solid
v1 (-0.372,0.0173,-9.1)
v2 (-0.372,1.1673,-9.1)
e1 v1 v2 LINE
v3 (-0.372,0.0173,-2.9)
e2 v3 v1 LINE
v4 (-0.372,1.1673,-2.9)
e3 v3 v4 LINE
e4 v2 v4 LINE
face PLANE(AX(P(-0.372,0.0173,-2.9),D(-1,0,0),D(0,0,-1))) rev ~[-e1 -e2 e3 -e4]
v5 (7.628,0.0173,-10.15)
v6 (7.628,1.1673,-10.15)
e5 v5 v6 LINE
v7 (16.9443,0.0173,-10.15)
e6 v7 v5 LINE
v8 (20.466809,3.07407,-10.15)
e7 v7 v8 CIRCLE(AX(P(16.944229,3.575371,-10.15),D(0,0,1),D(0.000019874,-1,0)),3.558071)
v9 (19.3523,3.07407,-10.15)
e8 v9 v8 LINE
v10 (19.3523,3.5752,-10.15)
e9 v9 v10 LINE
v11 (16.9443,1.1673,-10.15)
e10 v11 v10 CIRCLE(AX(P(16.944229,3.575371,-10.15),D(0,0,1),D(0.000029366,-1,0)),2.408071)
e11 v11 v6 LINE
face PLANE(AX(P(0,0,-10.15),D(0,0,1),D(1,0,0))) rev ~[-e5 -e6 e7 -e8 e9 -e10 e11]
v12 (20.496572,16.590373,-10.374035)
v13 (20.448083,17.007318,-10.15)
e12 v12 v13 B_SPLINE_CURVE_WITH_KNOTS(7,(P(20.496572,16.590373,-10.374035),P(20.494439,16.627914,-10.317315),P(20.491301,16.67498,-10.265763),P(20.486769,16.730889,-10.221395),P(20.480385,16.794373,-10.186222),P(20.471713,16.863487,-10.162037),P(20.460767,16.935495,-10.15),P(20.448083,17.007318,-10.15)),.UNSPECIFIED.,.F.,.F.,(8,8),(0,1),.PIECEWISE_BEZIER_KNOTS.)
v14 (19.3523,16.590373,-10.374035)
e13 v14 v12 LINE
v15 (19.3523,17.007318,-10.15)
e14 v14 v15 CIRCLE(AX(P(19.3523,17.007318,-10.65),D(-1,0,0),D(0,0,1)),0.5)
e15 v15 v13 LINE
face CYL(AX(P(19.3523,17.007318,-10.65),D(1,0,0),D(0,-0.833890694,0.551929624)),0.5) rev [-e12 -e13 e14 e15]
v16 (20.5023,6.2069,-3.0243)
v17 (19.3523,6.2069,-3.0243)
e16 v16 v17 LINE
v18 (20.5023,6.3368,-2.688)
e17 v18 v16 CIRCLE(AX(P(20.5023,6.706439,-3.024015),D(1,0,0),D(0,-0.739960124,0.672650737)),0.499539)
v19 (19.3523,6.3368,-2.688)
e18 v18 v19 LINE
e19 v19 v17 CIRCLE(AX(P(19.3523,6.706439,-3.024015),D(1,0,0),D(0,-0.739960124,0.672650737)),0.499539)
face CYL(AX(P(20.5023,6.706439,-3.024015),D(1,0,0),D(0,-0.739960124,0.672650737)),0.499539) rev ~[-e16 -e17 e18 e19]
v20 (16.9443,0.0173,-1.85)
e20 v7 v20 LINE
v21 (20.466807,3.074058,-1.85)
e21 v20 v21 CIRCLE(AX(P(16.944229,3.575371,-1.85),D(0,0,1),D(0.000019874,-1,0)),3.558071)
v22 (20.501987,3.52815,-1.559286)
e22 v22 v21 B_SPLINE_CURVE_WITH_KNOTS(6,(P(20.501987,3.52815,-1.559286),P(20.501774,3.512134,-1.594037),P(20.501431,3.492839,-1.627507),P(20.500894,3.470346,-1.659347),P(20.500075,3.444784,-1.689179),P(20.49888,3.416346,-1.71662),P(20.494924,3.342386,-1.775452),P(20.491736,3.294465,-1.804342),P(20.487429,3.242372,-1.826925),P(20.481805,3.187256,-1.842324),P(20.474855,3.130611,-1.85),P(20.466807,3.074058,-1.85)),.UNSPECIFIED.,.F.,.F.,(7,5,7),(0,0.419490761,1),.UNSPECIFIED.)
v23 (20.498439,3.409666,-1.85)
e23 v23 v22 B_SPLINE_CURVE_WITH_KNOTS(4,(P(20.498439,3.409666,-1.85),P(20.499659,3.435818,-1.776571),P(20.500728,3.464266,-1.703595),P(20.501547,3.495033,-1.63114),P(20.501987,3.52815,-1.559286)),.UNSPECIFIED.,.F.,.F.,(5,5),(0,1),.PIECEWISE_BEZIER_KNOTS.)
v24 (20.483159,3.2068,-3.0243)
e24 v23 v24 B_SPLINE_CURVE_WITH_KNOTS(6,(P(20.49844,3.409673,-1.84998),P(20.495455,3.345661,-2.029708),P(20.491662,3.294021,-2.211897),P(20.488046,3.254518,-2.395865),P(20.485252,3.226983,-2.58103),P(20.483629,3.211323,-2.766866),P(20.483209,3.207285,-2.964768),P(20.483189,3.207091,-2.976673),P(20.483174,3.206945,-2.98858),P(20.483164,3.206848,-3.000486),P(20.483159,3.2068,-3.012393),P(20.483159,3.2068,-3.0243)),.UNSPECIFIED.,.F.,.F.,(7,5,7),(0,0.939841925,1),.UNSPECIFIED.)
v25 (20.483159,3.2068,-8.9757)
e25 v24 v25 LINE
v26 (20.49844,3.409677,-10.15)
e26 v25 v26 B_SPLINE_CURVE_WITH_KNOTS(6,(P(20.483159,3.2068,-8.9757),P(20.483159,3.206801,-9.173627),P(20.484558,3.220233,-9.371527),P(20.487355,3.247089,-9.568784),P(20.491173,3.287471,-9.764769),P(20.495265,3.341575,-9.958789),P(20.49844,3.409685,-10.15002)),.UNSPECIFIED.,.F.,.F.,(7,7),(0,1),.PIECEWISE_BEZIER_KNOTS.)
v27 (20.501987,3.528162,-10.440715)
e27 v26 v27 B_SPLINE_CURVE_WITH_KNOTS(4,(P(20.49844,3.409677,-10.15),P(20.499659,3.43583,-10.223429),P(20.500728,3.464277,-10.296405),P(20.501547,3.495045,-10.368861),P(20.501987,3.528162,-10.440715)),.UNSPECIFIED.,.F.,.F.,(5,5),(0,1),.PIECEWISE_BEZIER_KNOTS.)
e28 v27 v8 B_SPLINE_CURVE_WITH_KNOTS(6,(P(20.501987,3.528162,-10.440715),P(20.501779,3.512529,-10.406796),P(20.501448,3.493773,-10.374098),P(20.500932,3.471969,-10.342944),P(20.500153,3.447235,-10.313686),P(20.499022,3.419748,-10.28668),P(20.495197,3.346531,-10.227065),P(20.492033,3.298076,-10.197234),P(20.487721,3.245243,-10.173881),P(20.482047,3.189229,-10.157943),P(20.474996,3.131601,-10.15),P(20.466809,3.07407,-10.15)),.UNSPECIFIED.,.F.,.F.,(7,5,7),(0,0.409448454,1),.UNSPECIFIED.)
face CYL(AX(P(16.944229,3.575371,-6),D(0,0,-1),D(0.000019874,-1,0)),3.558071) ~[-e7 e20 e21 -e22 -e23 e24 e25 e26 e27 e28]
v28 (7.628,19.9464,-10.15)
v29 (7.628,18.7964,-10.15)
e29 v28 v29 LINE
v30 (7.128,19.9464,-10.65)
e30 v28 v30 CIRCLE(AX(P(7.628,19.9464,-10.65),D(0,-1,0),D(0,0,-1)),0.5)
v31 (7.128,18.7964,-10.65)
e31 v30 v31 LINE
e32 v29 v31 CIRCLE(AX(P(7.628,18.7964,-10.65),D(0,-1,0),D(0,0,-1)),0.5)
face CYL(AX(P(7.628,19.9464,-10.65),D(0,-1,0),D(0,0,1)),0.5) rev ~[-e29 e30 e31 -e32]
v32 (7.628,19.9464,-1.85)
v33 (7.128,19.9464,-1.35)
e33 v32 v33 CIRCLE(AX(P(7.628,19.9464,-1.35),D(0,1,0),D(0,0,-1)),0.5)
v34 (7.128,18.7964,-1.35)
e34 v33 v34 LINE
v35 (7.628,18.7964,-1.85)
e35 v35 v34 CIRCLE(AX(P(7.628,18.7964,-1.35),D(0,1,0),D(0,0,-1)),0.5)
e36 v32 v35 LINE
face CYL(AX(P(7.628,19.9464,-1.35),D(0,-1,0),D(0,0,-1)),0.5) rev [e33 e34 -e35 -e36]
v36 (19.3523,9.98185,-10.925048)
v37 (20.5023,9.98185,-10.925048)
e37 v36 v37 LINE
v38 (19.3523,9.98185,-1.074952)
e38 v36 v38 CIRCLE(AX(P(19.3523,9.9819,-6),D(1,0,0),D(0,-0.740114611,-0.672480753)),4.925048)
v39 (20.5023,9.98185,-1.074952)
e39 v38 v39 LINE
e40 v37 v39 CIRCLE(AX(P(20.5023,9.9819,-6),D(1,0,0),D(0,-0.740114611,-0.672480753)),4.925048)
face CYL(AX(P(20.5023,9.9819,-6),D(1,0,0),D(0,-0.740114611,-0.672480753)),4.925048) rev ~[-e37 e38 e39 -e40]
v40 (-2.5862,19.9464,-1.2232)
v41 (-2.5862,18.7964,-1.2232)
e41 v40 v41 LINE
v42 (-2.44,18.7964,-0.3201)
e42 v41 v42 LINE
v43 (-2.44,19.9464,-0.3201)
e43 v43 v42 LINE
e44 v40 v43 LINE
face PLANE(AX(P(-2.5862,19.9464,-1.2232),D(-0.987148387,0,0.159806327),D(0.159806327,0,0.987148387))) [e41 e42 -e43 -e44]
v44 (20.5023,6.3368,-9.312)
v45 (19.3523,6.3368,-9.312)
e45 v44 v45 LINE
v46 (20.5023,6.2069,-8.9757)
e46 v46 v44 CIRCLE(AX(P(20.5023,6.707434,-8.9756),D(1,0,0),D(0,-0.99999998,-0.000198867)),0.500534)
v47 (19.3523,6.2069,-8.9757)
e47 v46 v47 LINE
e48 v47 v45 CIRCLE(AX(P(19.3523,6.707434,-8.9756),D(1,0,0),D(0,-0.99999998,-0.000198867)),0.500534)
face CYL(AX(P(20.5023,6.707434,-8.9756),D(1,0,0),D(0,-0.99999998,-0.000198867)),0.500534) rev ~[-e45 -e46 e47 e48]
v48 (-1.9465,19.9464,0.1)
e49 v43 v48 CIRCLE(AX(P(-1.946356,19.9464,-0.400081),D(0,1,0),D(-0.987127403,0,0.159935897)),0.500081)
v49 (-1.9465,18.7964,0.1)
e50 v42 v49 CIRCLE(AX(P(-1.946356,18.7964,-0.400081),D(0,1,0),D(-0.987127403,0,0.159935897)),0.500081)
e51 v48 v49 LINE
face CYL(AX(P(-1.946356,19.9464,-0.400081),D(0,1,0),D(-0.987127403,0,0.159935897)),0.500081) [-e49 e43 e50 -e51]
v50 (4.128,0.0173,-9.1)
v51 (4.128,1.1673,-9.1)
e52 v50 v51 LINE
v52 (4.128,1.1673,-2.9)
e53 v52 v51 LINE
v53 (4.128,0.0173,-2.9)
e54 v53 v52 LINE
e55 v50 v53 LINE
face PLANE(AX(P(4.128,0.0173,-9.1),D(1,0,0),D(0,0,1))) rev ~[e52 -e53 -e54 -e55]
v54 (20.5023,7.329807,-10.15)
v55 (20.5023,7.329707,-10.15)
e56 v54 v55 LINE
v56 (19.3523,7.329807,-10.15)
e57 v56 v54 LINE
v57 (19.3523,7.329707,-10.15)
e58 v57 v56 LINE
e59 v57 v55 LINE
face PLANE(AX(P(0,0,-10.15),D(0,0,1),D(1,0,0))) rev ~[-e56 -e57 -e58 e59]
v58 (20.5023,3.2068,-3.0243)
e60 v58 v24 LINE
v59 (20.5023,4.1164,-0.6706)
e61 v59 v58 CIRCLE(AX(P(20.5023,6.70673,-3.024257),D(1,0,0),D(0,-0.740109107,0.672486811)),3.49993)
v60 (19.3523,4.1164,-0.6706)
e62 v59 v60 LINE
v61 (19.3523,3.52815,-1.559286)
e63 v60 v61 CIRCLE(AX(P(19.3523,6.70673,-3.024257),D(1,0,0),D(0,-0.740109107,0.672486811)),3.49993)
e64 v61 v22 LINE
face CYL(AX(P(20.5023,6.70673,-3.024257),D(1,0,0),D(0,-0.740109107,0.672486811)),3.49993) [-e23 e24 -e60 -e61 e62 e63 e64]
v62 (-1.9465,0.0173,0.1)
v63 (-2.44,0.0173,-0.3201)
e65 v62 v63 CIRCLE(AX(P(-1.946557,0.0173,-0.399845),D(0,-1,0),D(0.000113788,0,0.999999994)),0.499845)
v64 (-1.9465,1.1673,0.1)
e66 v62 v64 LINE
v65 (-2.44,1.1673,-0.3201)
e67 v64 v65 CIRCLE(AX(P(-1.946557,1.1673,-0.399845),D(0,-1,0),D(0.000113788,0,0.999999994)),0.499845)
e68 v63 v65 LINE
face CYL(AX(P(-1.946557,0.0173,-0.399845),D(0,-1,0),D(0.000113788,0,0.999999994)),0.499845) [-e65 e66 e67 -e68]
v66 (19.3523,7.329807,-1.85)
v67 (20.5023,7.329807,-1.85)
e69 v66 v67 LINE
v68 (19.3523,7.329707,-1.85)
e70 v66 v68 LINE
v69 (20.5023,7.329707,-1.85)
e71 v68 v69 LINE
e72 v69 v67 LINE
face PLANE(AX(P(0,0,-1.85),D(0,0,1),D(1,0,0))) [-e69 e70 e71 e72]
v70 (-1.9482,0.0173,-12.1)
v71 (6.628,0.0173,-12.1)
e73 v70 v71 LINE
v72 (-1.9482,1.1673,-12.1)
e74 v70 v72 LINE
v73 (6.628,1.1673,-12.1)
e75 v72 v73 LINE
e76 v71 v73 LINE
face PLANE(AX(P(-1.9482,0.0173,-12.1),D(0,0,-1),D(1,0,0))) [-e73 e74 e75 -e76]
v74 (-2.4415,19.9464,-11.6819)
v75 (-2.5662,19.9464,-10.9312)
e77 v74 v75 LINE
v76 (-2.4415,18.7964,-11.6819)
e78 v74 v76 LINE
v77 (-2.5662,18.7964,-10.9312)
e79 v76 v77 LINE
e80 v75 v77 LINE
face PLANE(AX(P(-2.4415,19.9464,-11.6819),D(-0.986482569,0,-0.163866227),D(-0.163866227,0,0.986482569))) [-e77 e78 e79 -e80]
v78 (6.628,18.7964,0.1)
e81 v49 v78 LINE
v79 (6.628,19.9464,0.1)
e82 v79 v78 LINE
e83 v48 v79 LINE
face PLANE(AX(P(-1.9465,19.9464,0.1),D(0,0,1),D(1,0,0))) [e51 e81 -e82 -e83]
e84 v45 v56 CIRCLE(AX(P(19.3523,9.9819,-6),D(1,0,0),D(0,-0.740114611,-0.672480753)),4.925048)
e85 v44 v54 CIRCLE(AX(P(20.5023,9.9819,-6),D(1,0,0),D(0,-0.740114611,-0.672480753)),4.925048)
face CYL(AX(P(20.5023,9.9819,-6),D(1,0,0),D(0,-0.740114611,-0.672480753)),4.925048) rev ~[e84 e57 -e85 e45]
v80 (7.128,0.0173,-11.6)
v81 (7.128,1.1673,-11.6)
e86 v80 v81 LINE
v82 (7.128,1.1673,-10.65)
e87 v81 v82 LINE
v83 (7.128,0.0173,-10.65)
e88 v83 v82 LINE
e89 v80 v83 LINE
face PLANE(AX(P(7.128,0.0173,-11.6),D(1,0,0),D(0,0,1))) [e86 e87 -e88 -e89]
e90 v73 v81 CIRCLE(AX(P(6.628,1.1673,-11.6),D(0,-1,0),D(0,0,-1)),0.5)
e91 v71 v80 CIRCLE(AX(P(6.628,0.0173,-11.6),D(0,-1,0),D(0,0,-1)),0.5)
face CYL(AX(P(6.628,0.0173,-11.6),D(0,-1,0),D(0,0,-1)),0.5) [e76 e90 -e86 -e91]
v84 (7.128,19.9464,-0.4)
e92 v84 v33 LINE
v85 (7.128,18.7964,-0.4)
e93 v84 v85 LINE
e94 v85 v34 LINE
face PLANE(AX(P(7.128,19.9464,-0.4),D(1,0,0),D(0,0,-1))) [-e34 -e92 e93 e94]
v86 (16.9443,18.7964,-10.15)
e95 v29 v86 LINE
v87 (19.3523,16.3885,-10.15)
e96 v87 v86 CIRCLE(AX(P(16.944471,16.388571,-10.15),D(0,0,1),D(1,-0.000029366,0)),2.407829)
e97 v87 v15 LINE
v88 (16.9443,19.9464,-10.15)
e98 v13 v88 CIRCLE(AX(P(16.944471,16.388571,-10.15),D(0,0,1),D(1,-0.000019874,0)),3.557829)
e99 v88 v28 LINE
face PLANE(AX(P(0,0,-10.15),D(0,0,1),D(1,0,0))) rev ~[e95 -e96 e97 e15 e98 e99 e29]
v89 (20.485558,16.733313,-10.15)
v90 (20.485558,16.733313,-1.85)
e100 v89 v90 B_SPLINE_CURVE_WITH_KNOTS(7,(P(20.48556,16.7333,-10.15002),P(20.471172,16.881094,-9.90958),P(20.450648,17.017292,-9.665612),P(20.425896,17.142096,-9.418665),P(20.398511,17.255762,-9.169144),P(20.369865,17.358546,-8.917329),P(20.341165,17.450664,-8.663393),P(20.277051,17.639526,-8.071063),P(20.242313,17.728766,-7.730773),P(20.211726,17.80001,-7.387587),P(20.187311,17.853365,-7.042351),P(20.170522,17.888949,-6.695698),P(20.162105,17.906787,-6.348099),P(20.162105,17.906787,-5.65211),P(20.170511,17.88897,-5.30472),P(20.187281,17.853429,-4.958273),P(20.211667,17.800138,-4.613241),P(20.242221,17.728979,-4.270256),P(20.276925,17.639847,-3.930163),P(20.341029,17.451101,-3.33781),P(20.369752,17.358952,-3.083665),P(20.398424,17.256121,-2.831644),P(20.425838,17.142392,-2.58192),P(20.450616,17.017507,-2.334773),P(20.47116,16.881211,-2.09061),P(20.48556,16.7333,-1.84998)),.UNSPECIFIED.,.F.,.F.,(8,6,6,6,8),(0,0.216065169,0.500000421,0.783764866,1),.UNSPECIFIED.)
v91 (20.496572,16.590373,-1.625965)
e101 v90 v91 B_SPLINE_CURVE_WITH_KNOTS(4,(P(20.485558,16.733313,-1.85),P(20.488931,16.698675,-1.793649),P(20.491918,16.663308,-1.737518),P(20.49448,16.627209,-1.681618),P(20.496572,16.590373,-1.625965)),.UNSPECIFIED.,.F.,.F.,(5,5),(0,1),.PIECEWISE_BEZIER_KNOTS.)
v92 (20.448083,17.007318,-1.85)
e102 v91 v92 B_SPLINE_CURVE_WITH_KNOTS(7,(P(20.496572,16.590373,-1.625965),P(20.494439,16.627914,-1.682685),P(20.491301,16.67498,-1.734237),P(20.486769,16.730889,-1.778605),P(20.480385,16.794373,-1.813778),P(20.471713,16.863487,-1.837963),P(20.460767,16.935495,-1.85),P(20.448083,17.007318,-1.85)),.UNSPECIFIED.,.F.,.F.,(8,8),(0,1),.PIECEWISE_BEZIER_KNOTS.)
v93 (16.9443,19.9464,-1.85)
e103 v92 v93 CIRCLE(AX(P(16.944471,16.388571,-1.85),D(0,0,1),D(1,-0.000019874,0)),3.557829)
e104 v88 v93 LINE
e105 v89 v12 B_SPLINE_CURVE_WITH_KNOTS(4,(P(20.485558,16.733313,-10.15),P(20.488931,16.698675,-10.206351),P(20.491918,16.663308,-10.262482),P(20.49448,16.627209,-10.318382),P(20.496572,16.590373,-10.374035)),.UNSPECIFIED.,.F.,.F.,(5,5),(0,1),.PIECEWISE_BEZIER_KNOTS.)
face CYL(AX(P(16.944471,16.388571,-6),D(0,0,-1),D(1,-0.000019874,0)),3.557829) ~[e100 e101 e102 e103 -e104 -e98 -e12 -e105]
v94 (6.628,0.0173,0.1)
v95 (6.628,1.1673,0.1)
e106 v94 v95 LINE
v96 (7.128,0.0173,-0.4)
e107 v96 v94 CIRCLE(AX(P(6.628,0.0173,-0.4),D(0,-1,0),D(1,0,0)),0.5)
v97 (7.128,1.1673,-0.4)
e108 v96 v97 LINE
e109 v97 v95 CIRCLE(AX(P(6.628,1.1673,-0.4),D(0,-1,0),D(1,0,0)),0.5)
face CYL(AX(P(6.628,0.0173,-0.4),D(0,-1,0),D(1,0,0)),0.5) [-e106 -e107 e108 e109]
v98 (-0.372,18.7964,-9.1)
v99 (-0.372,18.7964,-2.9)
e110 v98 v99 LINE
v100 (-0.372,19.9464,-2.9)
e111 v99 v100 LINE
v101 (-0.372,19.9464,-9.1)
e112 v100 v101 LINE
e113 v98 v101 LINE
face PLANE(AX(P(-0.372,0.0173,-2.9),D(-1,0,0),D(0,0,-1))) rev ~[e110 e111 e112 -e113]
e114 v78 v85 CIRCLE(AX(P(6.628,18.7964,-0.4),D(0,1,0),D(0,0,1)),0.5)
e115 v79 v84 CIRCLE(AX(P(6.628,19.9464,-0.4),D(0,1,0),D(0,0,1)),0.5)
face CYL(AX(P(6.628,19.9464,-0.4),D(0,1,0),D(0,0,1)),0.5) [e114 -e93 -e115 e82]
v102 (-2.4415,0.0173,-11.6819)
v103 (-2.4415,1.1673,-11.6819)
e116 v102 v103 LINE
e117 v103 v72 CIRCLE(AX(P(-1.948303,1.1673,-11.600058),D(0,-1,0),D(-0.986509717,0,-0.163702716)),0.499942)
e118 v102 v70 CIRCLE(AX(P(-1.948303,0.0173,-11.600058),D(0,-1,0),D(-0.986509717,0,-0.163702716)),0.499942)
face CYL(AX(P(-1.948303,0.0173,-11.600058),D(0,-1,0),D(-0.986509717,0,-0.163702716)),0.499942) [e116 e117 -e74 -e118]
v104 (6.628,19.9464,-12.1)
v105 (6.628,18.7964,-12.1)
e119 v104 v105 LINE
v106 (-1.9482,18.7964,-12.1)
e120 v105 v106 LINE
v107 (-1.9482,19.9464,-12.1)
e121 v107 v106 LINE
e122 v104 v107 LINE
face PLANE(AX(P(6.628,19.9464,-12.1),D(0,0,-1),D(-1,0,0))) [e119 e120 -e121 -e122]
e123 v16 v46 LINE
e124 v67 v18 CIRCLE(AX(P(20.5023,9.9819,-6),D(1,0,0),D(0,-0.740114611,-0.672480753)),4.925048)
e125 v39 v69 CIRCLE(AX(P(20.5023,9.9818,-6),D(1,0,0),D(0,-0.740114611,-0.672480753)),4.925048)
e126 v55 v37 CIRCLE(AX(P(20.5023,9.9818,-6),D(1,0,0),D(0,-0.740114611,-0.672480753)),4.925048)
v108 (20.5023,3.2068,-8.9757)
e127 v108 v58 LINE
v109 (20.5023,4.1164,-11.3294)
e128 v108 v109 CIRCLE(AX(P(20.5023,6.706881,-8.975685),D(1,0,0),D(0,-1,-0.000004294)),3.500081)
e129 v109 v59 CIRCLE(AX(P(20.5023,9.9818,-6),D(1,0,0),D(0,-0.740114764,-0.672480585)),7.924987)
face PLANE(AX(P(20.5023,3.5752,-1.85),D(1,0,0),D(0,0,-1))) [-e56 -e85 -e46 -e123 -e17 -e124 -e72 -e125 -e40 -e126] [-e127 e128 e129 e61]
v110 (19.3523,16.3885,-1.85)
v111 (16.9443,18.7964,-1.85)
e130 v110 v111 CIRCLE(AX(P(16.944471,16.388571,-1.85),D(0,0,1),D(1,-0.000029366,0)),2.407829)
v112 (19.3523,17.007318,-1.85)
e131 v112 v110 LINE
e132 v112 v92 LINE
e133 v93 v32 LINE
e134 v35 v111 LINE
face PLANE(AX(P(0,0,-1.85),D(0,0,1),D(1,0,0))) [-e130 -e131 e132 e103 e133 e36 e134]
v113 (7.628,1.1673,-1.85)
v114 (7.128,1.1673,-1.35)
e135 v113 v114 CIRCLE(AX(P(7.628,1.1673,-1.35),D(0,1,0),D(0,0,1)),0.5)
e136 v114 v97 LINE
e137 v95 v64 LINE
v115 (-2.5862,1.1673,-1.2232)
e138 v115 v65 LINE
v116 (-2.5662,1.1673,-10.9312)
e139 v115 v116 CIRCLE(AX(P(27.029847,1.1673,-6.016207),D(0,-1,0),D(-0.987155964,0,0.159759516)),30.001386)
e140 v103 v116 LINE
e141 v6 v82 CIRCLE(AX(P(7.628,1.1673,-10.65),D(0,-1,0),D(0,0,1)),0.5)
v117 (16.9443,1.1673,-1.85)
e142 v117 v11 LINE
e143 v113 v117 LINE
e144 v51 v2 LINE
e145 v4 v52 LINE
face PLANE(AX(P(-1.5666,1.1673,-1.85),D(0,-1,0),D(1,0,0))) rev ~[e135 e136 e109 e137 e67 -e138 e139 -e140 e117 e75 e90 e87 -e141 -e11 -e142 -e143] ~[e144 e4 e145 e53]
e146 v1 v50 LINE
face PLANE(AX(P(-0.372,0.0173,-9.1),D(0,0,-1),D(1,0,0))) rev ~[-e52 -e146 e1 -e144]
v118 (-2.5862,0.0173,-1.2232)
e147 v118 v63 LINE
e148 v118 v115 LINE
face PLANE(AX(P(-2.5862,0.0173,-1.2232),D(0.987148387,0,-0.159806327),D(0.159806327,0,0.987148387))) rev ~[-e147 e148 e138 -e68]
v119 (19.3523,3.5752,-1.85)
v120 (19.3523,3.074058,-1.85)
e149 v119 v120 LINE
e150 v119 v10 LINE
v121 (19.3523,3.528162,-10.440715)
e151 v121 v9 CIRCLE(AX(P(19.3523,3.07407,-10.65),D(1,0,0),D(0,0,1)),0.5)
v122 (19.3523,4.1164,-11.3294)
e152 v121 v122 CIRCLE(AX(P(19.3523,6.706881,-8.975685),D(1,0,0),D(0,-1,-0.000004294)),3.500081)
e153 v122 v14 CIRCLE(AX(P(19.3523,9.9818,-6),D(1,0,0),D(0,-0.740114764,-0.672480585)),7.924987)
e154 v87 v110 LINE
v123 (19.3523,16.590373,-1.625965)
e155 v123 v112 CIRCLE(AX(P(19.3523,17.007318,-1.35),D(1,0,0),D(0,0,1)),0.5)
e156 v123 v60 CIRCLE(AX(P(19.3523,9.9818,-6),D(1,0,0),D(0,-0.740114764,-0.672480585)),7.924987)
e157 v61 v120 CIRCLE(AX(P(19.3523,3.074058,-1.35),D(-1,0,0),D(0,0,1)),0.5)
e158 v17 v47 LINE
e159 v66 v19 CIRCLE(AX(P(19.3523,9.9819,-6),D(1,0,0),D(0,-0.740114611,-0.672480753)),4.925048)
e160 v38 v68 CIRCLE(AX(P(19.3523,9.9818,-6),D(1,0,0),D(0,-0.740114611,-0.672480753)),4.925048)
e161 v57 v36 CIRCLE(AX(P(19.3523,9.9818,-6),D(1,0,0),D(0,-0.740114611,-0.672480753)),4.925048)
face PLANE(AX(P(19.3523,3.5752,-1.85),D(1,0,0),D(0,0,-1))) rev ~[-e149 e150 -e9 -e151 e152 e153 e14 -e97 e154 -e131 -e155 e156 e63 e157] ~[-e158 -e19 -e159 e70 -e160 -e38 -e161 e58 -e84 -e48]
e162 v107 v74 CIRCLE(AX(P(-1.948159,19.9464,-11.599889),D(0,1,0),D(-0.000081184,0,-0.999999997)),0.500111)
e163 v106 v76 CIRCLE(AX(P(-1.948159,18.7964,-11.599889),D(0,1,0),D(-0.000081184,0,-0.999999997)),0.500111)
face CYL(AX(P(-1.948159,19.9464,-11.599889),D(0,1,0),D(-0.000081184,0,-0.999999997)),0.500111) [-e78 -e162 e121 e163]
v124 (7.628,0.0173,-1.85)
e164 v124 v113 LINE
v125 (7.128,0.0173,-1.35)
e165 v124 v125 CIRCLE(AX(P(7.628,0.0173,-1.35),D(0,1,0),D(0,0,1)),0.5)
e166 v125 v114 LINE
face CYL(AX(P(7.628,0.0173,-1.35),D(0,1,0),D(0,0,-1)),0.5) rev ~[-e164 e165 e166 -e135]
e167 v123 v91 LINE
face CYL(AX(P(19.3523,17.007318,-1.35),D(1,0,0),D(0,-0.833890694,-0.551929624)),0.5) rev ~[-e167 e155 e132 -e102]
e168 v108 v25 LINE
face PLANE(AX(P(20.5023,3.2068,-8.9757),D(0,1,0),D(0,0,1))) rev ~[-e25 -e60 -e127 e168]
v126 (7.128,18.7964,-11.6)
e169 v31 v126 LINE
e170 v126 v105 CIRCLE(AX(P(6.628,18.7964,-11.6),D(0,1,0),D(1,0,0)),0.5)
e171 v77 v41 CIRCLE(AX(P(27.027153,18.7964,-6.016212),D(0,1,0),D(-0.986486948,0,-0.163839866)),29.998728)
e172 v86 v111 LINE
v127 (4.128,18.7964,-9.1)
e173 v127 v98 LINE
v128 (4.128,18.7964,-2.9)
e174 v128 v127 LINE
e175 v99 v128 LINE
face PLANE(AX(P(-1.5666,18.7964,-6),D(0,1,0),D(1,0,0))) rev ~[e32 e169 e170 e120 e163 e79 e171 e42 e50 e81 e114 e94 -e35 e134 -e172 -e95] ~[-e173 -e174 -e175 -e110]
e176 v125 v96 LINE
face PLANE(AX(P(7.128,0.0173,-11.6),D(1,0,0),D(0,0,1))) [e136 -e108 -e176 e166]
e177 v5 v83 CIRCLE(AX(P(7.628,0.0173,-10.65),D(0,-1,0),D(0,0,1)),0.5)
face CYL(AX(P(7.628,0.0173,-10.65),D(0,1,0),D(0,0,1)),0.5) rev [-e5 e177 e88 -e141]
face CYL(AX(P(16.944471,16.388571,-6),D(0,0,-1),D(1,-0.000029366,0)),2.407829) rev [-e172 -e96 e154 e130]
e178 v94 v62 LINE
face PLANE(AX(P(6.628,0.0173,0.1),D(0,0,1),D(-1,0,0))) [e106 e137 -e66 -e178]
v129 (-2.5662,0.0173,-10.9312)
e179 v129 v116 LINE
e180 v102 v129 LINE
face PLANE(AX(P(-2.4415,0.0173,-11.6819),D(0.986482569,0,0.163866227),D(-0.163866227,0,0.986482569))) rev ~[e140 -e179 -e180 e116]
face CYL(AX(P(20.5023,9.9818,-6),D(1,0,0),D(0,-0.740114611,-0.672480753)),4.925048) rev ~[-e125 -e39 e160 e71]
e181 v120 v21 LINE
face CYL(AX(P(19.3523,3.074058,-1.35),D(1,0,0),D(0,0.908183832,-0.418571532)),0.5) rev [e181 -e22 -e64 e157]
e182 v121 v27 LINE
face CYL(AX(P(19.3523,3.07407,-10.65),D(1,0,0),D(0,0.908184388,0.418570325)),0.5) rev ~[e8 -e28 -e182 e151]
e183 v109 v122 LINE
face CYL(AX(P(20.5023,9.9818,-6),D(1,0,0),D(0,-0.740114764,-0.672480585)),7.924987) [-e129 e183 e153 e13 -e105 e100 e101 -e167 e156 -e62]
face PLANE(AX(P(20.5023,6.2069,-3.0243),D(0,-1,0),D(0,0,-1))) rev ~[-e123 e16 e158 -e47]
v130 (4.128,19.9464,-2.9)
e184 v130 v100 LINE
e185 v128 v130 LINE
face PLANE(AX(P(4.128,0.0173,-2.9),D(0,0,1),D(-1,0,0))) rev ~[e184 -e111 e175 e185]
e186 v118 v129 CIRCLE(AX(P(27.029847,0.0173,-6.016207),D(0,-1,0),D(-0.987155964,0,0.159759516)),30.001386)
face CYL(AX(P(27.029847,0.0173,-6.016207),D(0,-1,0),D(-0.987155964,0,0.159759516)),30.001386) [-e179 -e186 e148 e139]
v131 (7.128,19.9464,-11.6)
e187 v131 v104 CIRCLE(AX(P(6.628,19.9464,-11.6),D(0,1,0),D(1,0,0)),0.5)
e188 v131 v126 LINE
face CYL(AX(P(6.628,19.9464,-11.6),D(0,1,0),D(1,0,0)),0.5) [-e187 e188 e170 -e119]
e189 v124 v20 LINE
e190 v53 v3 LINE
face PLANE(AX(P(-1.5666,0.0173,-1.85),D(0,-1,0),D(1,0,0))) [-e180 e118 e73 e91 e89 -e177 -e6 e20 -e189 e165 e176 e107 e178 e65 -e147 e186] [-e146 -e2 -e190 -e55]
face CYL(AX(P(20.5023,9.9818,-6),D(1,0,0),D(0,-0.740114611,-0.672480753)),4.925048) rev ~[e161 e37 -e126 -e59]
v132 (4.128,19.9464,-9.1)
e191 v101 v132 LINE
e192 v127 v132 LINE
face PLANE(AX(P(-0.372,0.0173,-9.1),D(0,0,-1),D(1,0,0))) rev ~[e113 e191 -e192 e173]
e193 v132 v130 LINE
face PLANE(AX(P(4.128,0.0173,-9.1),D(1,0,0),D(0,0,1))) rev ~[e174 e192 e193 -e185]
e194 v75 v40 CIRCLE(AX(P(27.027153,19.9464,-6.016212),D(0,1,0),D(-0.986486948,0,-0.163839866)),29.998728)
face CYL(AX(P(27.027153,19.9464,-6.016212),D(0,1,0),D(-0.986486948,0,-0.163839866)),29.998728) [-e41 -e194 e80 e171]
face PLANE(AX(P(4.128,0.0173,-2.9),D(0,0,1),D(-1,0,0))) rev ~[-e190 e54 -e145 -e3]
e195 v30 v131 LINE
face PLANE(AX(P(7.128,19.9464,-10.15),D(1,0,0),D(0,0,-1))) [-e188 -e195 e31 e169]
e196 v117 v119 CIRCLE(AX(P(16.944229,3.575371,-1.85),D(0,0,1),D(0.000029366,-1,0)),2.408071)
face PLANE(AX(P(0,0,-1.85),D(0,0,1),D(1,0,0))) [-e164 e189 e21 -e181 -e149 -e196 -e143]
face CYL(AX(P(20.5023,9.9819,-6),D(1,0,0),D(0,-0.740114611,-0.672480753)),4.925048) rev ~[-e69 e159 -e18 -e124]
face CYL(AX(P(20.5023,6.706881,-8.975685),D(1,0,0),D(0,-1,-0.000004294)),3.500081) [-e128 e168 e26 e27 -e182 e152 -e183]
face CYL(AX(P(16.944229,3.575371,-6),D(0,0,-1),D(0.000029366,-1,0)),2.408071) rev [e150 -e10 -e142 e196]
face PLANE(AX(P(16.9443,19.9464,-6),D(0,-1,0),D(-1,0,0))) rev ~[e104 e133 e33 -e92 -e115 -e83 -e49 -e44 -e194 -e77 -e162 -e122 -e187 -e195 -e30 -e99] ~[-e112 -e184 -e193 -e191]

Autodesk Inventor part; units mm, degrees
ref_plane "YZ Plane" through (0, 0, 0) normal (1, 0, 0) x (0, 1, 0)
ref_plane "XZ Plane" through (0, 0, 0) normal (0, 1, 0) x (-1, 0, 0)
ref_plane "XY Plane" through (0, 0, 0) normal (0, 0, 1) x (1, 0, 0)
ref_plane "Work Plane1" through (0, 0, -6) normal (0, 0, 1) x (1, 0, 0)
sketch "Sketch2" plane through (0, 0, -6) normal (0, 0, 1) x (1, 0, 0)
  line L0 (-0.1721, 1.3319) -> (-0.1721, -0.6681) projected
  line L1 (-0.1721, -0.6681) -> (-1.1721, -0.6681) projected
  line L2 (-1.1721, -0.6681) -> (-1.1721, -1.1681) projected
  line L3 (-1.1721, -1.1681) -> (0.1026, -1.1681) projected
  line L4 (0.1026, -1.1681) -> (1.1279, 1.3319) projected
  line L5 (-0.1721, 1.3319) -> (1.1279, 1.3319) projected
  line L6 (21.2279, 14.4069) -> (21.2279, 6.7069) projected
  line L7 (22.1279, 8.9819) -> (22.1279, 10.9819) projected
  line L8 (-1.5666, 1.1673) -> (16.9443, 1.1673)
  arc A0 (16.9443, 1.1673) -> (19.3523, 3.5752) centre (16.9443, 3.5752) ccw
  line L9 (19.3523, 3.5752) -> (19.3523, 9.9819)
  line L10 (20.5023, 9.9819) -> (20.5023, 3.5752)
  arc A1 (16.9443, 0.0173) -> (20.5023, 3.5752) centre (16.9443, 3.5752) ccw
  line L11 (16.9443, 0.0173) -> (-1.5666, 0.0173)
  line L12 (-1.5666, 0.0173) -> (-1.5666, 1.1673)
  line L13 (20.5023, 9.9819) -> (19.3523, 9.9819)
  line L14 (-1.5666, 18.7964) -> (16.9443, 18.7964)
  arc A2 (19.3523, 16.3885) -> (16.9443, 18.7964) centre (16.9443, 16.3885) ccw
  line L15 (19.3523, 16.3885) -> (19.3523, 9.9819)
  line L16 (20.5023, 9.9819) -> (20.5023, 16.3885)
  arc A3 (20.5023, 16.3885) -> (16.9443, 19.9464) centre (16.9443, 16.3885) ccw
  line L17 (16.9443, 19.9464) -> (-1.5666, 19.9464)
  line L18 (-1.5666, 19.9464) -> (-1.5666, 18.7964)
  point P0 (0, 0)
  point P1 (22.1279, 9.9819)
  dimension "d1" = 1.15
  dimension "d2" = 0.7257
extrude "Extrusion1" add sketch "Sketch2" along normal mid plane 8.3 contours L8 L4 L11 L0 | L0 L11 L12 L8 | L8 A0 L9 L13 L10 A1 L11 L4 | L15 A2 L14 L18 L17 A3 L16 L13
sketch "Sketch3" plane through (20.5023, 3.5752, -1.85) normal (1, 0, 0) x (0, 0, -1)
  line L0 (1.1743, 2.6316) -> (7.1257, 2.6316) projected
  line L1 (1.1743, 2.6316) -> (7.1257, 2.6316) projected
  arc A0 (0.838, 2.7615) -> (1.1743, 2.6316) centre (1.1743, 3.1316) ccw projected
  arc A1 (7.462, 2.7615) -> (0.838, 2.7615) centre (4.15, 6.4066) ccw projected
  arc A2 (7.1257, 2.6316) -> (7.462, 2.7615) centre (7.1257, 3.1316) ccw projected
  line L2 (1.1743, 2.6316) -> (7.1257, 2.6316) projected
  arc A3 (-1.1794, 0.5412) -> (1.1743, -0.3684) centre (1.1743, 3.1316) ccw
  arc A4 (9.4794, 0.5412) -> (-1.1794, 0.5412) centre (4.15, 6.4066) ccw
  arc A5 (7.1257, -0.3684) -> (9.4794, 0.5412) centre (7.1257, 3.1316) ccw
  line L3 (7.1257, -0.3684) -> (1.1743, -0.3684)
  point P0 (-1.85, -3.5752)
  dimension "d5" = 3
extrude "Extrusion2" add sketch "Sketch3" against normal blind 1.15
sketch "Sketch4" plane through (20.5023, 9.9819, -6) normal (1, 0, 0) x (0, 0, -1)
  line L0 (-2.9757, -3.775) -> (2.9757, -3.775) projected
  line L1 (-2.9757, -3.775) -> (2.9757, -3.775) projected
  arc A0 (-3.312, -3.6451) -> (-2.9757, -3.775) centre (-2.9757, -3.275) ccw projected
  arc A1 (3.312, -3.6451) -> (-3.312, -3.6451) centre (0, 0) ccw projected
  arc A2 (2.9757, -3.775) -> (3.312, -3.6451) centre (2.9757, -3.275) ccw projected
  point P0 (-6, -9.9819)
extrude "Extrusion3" cut sketch "Sketch4" against normal blind 1.5
fillet "Fillet1" radius 0.5 4 edges at (19.9253, 3.4097, -1.85) (19.9253, 3.4097, -10.15) (19.9189, 16.7334, -10.15) (19.9189, 16.7334, -1.85)
sketch "Sketch5" plane through (-1.5666, 0.0173, -1.85) normal (0, -1, 0) x (1, 0, 0)
  line L0 (1.3946, -7.15) -> (1.3946, -1.15) projected
  line L1 (1.3946, -1.15) -> (1.3946, -7.15) projected
  line L2 (1.6693, -1.15) -> (2.6946, -1.15) projected
  line L3 (1.6693, -1.15) -> (1.6693, -7.15) projected
  line L4 (1.6693, -7.15) -> (2.6946, -7.15) projected
  line L5 (2.6946, -1.15) -> (2.6946, -7.15) projected
  line L6 (1.1946, -7.25) -> (5.6946, -7.25)
  line L7 (5.6946, -7.25) -> (5.6946, -1.05)
  line L8 (5.6946, -1.05) -> (1.1946, -1.05)
  line L9 (1.1946, -1.05) -> (1.1946, -7.25)
  point P0 (1.5666, 1.85)
  dimension "d12" = 0.1
  dimension "d13" = 0.1
  dimension "d14" = 3
  dimension "d15" = 0.2
extrude "Extrusion4" cut sketch "Sketch5" against normal blind 22.75 contours L2 L5 L4 L3 | L9 L8 L7 L6
sketch "Sketch6" plane through (-1.5666, 0.0173, -1.85) normal (0, -1, 0) x (1, 0, 0)
  line L0 (-0.3816, -10.25) -> (8.1946, -10.25)
  line L1 (8.6946, -9.75) -> (8.6946, 1.45)
  line L2 (8.1946, 1.95) -> (-0.3799, 1.95)
  line L3 (-0.8749, -9.8319) -> (-0.9996, -9.0812)
  line L4 (-1.0196, 0.6268) -> (-0.8734, 1.5299)
  line L5 (1.1946, -1.05) -> (5.6946, -1.05) projected
  line L6 (5.6946, -7.25) -> (1.1946, -7.25) projected
  line L7 (5.6946, -1.05) -> (5.6946, -7.25) projected
  line L8 (1.1946, -7.25) -> (1.1946, -1.05) projected
  arc A0 (-1.0196, 0.6268) -> (-0.9996, -9.0812) centre (28.5951, -4.1661) ccw
  arc A1 (-0.8749, -9.8319) -> (-0.3816, -10.25) centre (-0.3816, -9.75) ccw
  arc A2 (-0.3799, 1.95) -> (-0.8734, 1.5299) centre (-0.3799, 1.45) ccw
  arc A3 (8.6946, 1.45) -> (8.1946, 1.95) centre (8.1946, 1.45) ccw
  arc A4 (8.1946, -10.25) -> (8.6946, -9.75) centre (8.1946, -9.75) ccw
  point P0 (1.5666, 1.85)
  point P1 (-0.8054, -10.25)
  point P2 (-0.8054, 1.95)
  point P3 (-1.8054, -4.2289)
  dimension "d18" = 3
  dimension "d19" = 3
  dimension "d20" = 3
  dimension "d21" = 3
  dimension "d22" = 2
  dimension "d23" = 30
  dimension "d24" = 0.5
extrude "Extrusion5" add sketch "Sketch6" against normal blind 1.15
sketch "Sketch7" plane through (-1.5666, 19.9464, -1.85) normal (0, 1, 0) x (1, 0, 0)
  line L0 (5.6946, 1.05) -> (5.6946, 7.25) projected
  line L1 (5.6946, 7.25) -> (1.1946, 7.25) projected
  line L2 (1.1946, 7.25) -> (1.1946, 1.05) projected
  line L3 (1.1946, 1.05) -> (5.6946, 1.05) projected
  line L4 (18.5109, 8.3) -> (8.6946, 8.3) projected
  line L5 (18.5109, 8.3) -> (18.5109, 0) projected
  line L6 (8.6946, 0) -> (18.5109, 0) projected
  line L7 (8.6946, -1.45) -> (8.6946, 0) projected
  arc A0 (8.1946, -1.95) -> (8.6946, -1.45) centre (8.1946, -1.45) ccw projected
  line L8 (-0.3799, -1.95) -> (8.1946, -1.95) projected
  arc A1 (-0.8734, -1.5299) -> (-0.3799, -1.95) centre (-0.3799, -1.45) ccw projected
  line L9 (-1.0196, -0.6268) -> (-0.8734, -1.5299) projected
  arc A2 (-0.9996, 9.0812) -> (-1.0196, -0.6268) centre (28.5951, 4.1661) ccw projected
  line L10 (-0.8749, 9.8319) -> (-0.9996, 9.0812) projected
  arc A3 (-0.3816, 10.25) -> (-0.8749, 9.8319) centre (-0.3816, 9.75) ccw projected
  line L11 (8.1946, 10.25) -> (-0.3816, 10.25) projected
  arc A4 (8.6946, 9.75) -> (8.1946, 10.25) centre (8.1946, 9.75) ccw projected
  line L12 (8.6946, 8.3) -> (8.6946, 9.75) projected
  point P0 (1.5666, -1.85)
extrude "Extrusion6" add sketch "Sketch7" against normal blind 1.15
fillet "Fillet2" radius 0.5 4 edges at (7.1279, 19.3714, -1.85) (7.1279, 0.5923, -1.85) (7.1279, 19.3714, -10.15) (7.1279, 0.5923, -10.15)
properties part number "Part3 - Gearbox" material "Glass"
